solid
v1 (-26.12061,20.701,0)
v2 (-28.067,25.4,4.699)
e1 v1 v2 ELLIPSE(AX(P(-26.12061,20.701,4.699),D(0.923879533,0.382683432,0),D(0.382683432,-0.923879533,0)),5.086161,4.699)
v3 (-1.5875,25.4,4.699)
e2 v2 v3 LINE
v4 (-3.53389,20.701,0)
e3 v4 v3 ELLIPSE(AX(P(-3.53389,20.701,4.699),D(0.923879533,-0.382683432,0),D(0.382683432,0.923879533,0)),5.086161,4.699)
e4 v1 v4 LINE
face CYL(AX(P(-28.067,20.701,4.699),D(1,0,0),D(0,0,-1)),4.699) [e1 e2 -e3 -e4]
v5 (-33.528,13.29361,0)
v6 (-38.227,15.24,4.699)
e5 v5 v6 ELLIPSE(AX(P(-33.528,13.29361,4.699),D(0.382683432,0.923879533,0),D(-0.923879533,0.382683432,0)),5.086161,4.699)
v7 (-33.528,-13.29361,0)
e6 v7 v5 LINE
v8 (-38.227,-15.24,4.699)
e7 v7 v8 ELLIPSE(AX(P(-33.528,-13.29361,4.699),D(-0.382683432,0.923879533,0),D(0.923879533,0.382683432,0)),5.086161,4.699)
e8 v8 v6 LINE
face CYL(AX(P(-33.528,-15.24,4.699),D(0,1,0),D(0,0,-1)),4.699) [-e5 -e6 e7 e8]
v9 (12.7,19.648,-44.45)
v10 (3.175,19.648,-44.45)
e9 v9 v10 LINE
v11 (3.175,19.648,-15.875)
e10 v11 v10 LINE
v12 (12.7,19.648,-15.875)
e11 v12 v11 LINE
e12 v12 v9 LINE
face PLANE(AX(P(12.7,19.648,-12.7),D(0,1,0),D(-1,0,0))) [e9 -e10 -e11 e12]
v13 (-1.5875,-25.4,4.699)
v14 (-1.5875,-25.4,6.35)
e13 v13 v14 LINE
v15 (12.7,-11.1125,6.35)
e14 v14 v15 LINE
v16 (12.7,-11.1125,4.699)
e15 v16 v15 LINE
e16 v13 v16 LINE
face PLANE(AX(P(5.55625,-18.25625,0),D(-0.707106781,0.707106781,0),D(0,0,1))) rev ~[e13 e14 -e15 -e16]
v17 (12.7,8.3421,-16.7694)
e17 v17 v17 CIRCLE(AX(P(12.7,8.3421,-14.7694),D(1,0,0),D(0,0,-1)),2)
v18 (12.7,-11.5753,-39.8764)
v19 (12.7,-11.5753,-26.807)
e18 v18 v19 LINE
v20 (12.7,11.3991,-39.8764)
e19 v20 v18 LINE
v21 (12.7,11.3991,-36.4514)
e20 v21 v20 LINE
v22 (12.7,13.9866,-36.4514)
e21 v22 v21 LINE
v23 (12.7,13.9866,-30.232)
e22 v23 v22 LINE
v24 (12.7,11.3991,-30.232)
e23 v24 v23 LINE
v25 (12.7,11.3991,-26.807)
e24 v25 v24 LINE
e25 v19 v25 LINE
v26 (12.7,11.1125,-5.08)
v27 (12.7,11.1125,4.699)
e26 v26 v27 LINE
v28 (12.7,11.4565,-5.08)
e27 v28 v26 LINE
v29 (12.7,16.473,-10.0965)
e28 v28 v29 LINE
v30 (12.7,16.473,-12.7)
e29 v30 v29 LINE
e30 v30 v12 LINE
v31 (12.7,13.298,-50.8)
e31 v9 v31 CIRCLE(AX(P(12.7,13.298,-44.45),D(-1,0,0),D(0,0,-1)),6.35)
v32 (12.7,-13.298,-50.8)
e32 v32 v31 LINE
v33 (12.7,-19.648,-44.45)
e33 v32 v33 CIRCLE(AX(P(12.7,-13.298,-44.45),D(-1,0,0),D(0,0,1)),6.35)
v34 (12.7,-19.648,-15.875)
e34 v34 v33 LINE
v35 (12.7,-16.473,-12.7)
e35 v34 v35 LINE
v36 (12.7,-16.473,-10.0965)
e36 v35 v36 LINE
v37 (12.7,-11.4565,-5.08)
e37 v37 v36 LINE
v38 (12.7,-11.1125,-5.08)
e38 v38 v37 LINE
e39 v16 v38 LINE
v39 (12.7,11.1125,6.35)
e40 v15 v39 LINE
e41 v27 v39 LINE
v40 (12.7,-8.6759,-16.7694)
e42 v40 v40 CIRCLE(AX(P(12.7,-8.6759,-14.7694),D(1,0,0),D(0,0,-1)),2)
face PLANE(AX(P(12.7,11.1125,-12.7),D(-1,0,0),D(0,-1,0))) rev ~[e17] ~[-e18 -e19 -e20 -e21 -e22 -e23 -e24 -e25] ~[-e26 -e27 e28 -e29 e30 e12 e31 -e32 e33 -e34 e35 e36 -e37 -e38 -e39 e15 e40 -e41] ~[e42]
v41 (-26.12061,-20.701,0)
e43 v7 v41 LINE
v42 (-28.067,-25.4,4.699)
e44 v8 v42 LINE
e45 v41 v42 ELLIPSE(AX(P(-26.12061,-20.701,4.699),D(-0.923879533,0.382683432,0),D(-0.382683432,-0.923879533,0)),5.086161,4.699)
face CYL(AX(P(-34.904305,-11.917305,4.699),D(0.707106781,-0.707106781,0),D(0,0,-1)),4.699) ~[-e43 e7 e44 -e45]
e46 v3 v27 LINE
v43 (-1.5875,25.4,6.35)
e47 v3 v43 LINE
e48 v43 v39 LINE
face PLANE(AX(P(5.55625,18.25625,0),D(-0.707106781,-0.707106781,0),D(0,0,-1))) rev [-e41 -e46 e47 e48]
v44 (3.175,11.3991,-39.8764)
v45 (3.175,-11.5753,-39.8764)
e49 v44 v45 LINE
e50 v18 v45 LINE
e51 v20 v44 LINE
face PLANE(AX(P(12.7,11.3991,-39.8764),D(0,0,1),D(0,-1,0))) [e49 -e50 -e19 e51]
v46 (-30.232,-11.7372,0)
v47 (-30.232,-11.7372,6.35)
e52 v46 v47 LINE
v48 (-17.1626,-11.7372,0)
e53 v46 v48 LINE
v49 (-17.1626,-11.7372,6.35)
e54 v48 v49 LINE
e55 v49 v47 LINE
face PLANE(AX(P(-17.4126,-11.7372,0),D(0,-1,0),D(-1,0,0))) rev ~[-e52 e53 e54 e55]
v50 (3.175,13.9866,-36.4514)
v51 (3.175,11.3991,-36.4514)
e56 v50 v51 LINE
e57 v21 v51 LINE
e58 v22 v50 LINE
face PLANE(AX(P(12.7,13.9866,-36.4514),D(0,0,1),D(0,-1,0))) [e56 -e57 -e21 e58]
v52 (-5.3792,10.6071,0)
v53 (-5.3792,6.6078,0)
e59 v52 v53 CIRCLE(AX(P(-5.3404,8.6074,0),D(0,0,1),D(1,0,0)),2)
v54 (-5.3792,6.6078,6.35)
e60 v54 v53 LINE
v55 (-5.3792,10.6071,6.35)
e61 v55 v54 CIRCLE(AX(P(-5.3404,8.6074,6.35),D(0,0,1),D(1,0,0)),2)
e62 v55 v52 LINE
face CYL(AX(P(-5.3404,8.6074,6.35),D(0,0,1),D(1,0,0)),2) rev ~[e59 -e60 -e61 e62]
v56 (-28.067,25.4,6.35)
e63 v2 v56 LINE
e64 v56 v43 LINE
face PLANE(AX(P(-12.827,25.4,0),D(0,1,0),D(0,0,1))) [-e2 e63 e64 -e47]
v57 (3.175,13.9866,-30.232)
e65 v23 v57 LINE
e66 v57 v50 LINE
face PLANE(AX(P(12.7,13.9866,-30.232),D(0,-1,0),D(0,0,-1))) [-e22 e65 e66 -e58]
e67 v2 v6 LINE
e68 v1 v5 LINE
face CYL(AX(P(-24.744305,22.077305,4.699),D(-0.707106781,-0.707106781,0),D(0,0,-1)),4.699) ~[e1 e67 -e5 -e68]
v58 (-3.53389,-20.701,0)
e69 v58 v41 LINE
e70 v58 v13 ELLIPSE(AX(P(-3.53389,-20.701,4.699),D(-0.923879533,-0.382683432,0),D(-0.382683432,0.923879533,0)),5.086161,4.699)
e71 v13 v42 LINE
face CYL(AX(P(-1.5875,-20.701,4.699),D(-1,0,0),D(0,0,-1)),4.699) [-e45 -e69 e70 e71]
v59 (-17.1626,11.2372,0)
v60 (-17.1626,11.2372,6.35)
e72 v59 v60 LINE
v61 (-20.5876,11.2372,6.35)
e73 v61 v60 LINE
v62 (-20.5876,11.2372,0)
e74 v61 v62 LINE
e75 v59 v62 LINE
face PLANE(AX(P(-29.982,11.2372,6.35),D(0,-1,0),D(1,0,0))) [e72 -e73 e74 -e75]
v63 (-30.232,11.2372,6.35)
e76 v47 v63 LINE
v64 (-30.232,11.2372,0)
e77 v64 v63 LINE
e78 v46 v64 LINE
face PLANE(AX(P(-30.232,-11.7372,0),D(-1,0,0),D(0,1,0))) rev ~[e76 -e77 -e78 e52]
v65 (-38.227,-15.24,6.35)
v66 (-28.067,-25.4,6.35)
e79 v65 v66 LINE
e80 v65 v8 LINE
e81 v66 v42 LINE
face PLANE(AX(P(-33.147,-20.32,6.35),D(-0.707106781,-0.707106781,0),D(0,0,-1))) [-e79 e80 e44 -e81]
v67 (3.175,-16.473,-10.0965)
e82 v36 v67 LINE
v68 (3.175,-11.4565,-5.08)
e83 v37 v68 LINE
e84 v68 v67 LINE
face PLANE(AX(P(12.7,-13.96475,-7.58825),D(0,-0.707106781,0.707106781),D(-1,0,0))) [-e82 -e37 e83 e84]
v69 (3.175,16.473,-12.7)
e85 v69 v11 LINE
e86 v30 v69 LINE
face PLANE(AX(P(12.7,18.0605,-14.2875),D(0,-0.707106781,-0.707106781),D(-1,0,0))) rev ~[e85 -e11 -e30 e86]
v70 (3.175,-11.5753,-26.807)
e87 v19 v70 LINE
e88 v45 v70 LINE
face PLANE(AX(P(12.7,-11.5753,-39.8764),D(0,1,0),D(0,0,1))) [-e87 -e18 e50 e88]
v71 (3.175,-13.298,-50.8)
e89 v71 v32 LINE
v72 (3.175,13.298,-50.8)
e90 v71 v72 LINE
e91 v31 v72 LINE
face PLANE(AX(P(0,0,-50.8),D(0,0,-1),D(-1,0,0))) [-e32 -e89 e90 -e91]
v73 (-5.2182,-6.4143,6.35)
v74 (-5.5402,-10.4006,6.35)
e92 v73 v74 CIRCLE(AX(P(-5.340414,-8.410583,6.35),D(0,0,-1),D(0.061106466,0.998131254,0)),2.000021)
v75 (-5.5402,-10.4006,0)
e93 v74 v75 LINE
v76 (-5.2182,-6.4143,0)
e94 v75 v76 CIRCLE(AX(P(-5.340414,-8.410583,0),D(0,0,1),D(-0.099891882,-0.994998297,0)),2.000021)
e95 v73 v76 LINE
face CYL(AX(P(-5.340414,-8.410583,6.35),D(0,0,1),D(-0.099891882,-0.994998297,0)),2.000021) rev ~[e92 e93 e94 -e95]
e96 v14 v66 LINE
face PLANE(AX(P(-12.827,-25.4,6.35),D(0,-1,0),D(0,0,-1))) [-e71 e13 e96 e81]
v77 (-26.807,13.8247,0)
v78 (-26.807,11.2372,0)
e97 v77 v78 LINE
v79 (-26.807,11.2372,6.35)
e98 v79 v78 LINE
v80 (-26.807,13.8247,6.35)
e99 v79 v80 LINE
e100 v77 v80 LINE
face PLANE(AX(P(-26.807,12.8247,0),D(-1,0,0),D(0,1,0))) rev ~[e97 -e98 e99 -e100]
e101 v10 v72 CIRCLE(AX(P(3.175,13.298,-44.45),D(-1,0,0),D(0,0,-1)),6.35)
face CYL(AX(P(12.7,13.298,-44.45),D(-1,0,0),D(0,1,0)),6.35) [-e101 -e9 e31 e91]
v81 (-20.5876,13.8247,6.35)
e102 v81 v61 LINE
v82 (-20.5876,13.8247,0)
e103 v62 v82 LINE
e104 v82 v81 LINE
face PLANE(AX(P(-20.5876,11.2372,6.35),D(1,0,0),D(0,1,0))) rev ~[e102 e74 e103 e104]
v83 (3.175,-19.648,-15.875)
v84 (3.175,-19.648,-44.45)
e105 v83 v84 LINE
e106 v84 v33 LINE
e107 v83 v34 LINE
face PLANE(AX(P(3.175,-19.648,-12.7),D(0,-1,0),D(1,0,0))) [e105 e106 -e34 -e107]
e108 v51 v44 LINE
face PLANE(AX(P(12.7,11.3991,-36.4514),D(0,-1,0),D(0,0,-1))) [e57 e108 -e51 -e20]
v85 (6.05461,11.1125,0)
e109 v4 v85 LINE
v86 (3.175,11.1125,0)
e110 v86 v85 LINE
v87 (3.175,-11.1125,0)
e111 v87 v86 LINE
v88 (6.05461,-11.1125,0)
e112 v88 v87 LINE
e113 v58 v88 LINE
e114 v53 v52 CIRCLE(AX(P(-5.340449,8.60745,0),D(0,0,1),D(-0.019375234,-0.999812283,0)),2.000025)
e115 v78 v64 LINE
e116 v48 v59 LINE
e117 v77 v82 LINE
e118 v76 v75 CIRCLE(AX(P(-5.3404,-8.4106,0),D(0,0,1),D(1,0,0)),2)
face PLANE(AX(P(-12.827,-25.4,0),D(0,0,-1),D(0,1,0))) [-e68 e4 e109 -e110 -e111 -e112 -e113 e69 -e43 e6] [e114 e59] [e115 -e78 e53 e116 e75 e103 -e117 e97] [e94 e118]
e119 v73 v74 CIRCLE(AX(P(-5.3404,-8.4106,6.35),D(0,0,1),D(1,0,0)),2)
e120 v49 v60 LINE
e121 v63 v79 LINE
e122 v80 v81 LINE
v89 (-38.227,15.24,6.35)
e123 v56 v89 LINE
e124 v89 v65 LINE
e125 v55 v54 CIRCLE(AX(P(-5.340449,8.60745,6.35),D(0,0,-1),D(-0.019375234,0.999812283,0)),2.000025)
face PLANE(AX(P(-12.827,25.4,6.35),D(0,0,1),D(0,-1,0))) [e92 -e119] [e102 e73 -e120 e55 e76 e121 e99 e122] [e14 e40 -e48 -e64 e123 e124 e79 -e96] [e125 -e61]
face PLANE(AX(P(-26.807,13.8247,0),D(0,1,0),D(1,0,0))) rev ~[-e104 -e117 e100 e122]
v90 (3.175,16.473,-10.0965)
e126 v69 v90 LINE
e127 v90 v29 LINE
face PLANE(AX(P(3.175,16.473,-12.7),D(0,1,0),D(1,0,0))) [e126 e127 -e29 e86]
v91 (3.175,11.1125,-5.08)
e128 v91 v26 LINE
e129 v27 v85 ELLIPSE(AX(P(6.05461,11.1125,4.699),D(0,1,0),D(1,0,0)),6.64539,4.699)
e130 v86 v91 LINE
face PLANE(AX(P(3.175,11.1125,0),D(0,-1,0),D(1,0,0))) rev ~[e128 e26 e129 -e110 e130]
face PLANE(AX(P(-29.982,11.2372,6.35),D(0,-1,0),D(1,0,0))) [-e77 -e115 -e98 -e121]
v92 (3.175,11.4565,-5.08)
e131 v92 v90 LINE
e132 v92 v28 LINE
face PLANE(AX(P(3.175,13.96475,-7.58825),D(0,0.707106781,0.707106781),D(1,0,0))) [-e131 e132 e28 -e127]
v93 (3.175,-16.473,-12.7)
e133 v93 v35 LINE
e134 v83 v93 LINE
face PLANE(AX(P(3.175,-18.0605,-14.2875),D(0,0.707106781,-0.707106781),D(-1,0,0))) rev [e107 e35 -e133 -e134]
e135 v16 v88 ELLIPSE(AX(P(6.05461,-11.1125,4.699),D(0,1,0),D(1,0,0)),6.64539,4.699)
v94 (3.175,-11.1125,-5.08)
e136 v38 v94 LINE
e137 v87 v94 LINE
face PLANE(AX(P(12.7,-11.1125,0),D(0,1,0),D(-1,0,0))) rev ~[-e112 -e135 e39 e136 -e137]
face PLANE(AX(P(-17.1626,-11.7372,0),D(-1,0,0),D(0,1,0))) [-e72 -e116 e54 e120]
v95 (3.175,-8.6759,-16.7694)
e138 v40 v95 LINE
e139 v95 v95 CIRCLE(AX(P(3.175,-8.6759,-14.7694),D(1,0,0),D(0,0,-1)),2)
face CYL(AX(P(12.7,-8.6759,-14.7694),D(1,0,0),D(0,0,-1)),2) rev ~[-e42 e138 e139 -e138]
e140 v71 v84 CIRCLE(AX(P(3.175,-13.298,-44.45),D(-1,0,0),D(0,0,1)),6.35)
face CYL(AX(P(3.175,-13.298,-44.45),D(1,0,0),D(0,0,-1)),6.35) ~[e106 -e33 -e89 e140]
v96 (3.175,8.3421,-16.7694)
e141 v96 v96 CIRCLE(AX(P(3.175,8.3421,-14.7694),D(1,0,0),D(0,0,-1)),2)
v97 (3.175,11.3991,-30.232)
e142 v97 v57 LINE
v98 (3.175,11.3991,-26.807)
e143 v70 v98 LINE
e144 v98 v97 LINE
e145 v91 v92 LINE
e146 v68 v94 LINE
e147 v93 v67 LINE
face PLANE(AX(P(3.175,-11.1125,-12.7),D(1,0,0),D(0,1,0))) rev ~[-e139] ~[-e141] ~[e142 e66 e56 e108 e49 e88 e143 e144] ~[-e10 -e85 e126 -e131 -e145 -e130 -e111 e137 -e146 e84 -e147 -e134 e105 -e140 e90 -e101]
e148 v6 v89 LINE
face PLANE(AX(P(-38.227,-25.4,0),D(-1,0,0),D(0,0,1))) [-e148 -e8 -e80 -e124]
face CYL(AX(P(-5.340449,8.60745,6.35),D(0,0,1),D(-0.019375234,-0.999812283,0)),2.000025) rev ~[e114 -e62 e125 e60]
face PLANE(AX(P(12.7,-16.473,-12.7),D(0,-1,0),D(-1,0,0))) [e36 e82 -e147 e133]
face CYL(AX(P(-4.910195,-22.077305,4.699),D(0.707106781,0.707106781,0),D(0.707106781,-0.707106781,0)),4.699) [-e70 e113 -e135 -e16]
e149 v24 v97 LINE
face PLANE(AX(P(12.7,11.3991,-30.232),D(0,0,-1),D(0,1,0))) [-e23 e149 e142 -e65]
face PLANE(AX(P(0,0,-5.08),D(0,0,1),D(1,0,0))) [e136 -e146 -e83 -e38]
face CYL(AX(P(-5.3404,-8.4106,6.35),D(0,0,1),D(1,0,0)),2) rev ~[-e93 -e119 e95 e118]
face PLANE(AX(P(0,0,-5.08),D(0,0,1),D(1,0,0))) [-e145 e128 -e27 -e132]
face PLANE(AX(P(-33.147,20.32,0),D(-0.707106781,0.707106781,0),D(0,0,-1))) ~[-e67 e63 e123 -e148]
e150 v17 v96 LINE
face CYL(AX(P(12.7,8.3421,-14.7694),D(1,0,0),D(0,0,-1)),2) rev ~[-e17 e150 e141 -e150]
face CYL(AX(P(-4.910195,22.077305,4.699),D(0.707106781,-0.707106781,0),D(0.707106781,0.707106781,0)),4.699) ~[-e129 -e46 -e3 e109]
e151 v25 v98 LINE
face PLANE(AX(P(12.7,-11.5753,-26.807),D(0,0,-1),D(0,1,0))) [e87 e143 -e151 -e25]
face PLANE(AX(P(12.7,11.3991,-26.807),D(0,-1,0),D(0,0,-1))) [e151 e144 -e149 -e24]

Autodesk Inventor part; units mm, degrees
ref_plane "YZ Plane" through (0, 0, 0) normal (1, 0, 0) x (0, 1, 0)
ref_plane "XZ Plane" through (0, 0, 0) normal (0, 1, 0) x (-1, 0, 0)
ref_plane "XY Plane" through (0, 0, 0) normal (0, 0, 1) x (1, 0, 0)
sketch "Sketch1" plane through (0, 0, 0) normal (0, 0, 1) x (1, 0, 0)
  line L0 (-38.1, -25.4) -> (38.1, -25.4)
  line L1 (38.1, -25.4) -> (38.1, 25.4)
  line L2 (38.1, 25.4) -> (-38.1, 25.4)
  line L3 (-38.1, 25.4) -> (-38.1, -25.4)
  line L4 (-38.1, -25.4) -> (38.1, 25.4) construction
  line L5 (38.1, -25.4) -> (-38.1, 25.4) construction
  point P0 (0, 0)
  dimension "d0" = 76.2
  dimension "d1" = 50.8
extrude "Extrusion1" add sketch "Sketch1" along normal blind 6.35
sketch "Sketch3" plane through (38.1, -25.4, 0) normal (1, 0, 0) x (0, 0, -1)
  line L0 (0, 0) -> (0, 50.8) projected
  line L1 (0, 50.8) -> (-6.35, 50.8) projected
  line L2 (-6.35, 0) -> (-6.35, 50.8) projected
  line L3 (0, 0) -> (-6.35, 0) projected
  point P0 (0, 25.4)
extrude "Extrusion3" cut sketch "Sketch3" against normal blind 25.4
sketch "Sketch4" plane through (-38.1, -25.4, 0) normal (-1, 0, 0) x (0, 0, 1)
  line L0 (4.925, 17.15) -> (1.425, 17.15)
  line L1 (1.425, 17.15) -> (1.425, 33.65)
  line L2 (1.425, 33.65) -> (4.925, 33.65)
  line L3 (4.925, 33.65) -> (4.925, 17.15)
  line L4 (4.925, 17.15) -> (1.425, 33.65) construction
  line L5 (1.425, 17.15) -> (4.925, 33.65) construction
  point P0 (0, 25.4)
  point P1 (3.175, 25.4)
  dimension "d9" = 3.5
  dimension "d10" = 16.5
extrude "Extrusion4" add sketch "Sketch4" along normal blind 3.302
sketch "Sketch5" plane through (-38.1, -8.25, 4.925) normal (0, 0, 1) x (1, 0, 0)
  line L0 (-3.302, 0) -> (-3.302, 16.5) projected
  line L1 (0, 16.5) -> (0, 0) projected
  line L2 (0, 16.5) -> (-3.302, 16.5) projected
  line L3 (-3.302, 0) -> (-3.302, 16.5) projected
  line L4 (0, 0) -> (-3.302, 0) projected
  line L5 (-3.302, 16.5) -> (-3.175, 16.5)
  line L6 (0, 16.5) -> (-3.302, 16.5) projected
  line L7 (-3.175, 16.5) -> (-3.175, 16.5685)
  line L8 (-3.302, 16.5) -> (-3.302, 0) projected
  line L9 (-3.175, 16.5685) -> (-3.302, 16.5)
  point P0 (38.1, 8.25)
  point P1 (-3.175, 16.5)
  dimension "d13" = 0.127
sketch3d "3D Sketch1"
  line L0 (-41.402, 8.25, 4.925) -> (-41.402, 8.25, 1.425)
  line L1 (-41.402, 8.25, 1.425) -> (-41.402, -8.25, 1.425)
  line L2 (-41.402, -8.25, 1.425) -> (-41.402, -8.25, 4.925)
  line L3 (-41.402, -8.25, 4.925) -> (-41.402, 8.25, 4.925)
sweep "Sweep1" add profiles "Sketch5" path "3D Sketch1" contours L9 L7 L2
chamfer "Chamfer1" distance 14.2875 angle 45 4 edges at (-38.1, -25.4, 3.175) (-38.1, 25.4, 3.175) (12.7, -25.4, 3.175) (12.7, 25.4, 3.175)
sketch "Sketch6" plane through (-41.402, -25.4, 0) normal (-1, 0, 0) x (0, 0, 1)
  line L0 (-26.5368, -66.9991) -> (26.5368, -66.9991)
  line L1 (26.5368, -66.9991) -> (26.5368, 66.9991)
  line L2 (26.5368, 66.9991) -> (-26.5368, 66.9991)
  line L3 (-26.5368, 66.9991) -> (-26.5368, -66.9991)
  line L4 (0, 0) -> (6.35, 0) projected
  line L5 (-26.5368, -66.9991) -> (26.5368, 66.9991) construction
  line L6 (26.5368, -66.9991) -> (-26.5368, 66.9991) construction
  point P0 (0, 25.4)
extrude "Extrusion5" cut sketch "Sketch6" against normal blind 28.575
sketch "Sketch7" plane through (0, 0, 0) normal (0, 0, -1) x (-1, 0, 0)
  line L0 (-8.025, 3.175) -> (-8.025, -3.175)
  line L1 (-8.025, -3.175) -> (8.025, -3.175)
  line L2 (8.025, -3.175) -> (8.025, 3.175)
  line L3 (8.025, 3.175) -> (-8.025, 3.175)
  line L4 (-8.025, 4.675) -> (8.025, -1.675) construction
  line L5 (-8.025, -1.675) -> (8.025, 4.675) construction
  line L6 (0, 3.175) -> (0, -3.175)
  point P0 (0, 0)
  point P1 (0, 0)
  dimension "d21" = 6.35
  dimension "d22" = 16.05
extrude "Extrusion6" add sketch "Sketch7" along normal blind 19.2024
sketch "Sketch9" plane through (0, 0, 6.35) normal (0, 0, 1) x (1, 0, 0)
  line L0 (6.0307, -10.9832) -> (5.9693, 11.0167) projected
  line L1 (-6.0307, 10.9832) -> (6.0307, 10.9832)
  line L2 (6.0307, 10.9832) -> (6.0307, -10.9832)
  line L3 (6.0307, -10.9832) -> (-6.0307, -10.9832)
  line L4 (-6.0307, -10.9832) -> (-6.0307, 10.9832)
  point P0 (0, 0)
sketch "Sketch10" plane through (-12.827, -25.4, 0) normal (-1, 0, 0) x (0, 0, 1)
  line L0 (0, 0) -> (0, 50.8) projected
  line L1 (6.35, 0) -> (0, 0) projected
  line L2 (6.35, 50.8) -> (6.35, 0) projected
  line L3 (0, 50.8) -> (6.35, 50.8) projected
  point P0 (0, 25.4)
extrude "Extrusion7" add sketch "Sketch10" along normal blind 25.4
chamfer "Chamfer2" distance 10.16 angle 45 1 edges at (-38.227, 25.4, 3.175)
chamfer "Chamfer3" distance 10.16 angle 45 1 edges at (-38.227, -25.4, 3.175)
sketch "Sketch11" plane through (0, 0, 6.35) normal (0, 0, 1) x (1, 0, 0)
  line L0 (-29.728, 10.9832) -> (-17.6666, 10.9832)
  line L1 (-17.6666, -10.9832) -> (-29.728, -10.9832)
  line L2 (-29.728, -10.9832) -> (-29.728, 10.9832)
  line L3 (-17.6666, -10.9832) -> (-17.6666, 10.9832)
  line L4 (-30.998, 12.2532) -> (-16.3966, 12.2532)
  line L5 (-16.3966, 12.2532) -> (-16.3966, -12.2532)
  line L6 (-16.3966, -12.2532) -> (-30.998, -12.2532)
  line L7 (-30.998, -12.2532) -> (-30.998, 12.2532)
  line L8 (-17.6666, 10.9832) -> (-18.9366, 10.9832)
  line L9 (-29.728, 10.9832) -> (-28.458, 10.9832)
  line L10 (-18.9366, 10.9832) -> (-28.458, 10.9832)
  line L11 (-28.458, 10.9832) -> (-28.458, 15.1856)
  line L12 (-28.458, 15.1856) -> (-18.9366, 15.1856)
  line L13 (-18.9366, 15.1856) -> (-18.9366, 10.9832)
  point P0 (0, 0)
  dimension "d54" = 1.27
  dimension "d55" = 1.27
  dimension "d56" = 1.27
extrude "Extrusion8" cut sketch "Sketch11" against normal up to surface (6.35 mm away) contours L0 L3 L1 L2
sketch "Sketch12" plane through (0, 0, 6.35) normal (0, 0, 1) x (1, 0, 0)
  arc A0 (-5.2182, -6.4143) -> (-5.5402, -10.4006) centre (-5.418, -8.4043) ccw projected
  arc A1 (-5.5402, -10.4006) -> (-5.2182, -6.4143) centre (-5.3404, -8.4106) ccw projected
  arc A2 (-5.3792, 10.6071) -> (-5.3792, 6.6078) centre (-5.418, 8.6074) ccw projected
  arc A3 (-5.3792, 6.6078) -> (-5.3792, 10.6071) centre (-5.3404, 8.6074) ccw projected
  line L0 (-14.078, 16.1258) -> (3.242, 16.1258) projected
  line L1 (-14.078, 16.1258) -> (-14.078, -15.929) projected
  line L2 (-14.078, -15.929) -> (3.242, -15.929) projected
  line L3 (3.242, 16.1258) -> (3.242, -15.929) projected
  circle A4 centre (-5.3404, -8.4106) radius 2
  circle A5 centre (-5.3404, 8.6074) radius 2
  point P0 (0, 0)
  point P1 (-5.3792, 6.6078)
  point P2 (-5.2182, -6.4143)
  point P3 (-5.5402, -10.4006)
  dimension "d38" = 4
  dimension "d39" = 4
extrude "Extrusion9" cut sketch "Sketch12" against normal up to surface (6.35 mm away) contours A1 A4 | A3 A5
sketch "Sketch13" plane through (-8.025, 3.175, 0) normal (0, 1, 0) x (1, 0, 0)
  line L0 (16.05, 19.2024) -> (0, 19.2024) projected
  circle A0 centre (8.025, 4.3815) radius 2.25
  circle A1 centre (8.025, 13.1445) radius 2.25
  line L1 (16.05, 0) -> (0, 0) projected
  line L2 (16.05, 0) -> (16.05, 19.2024) projected
  line L3 (0, 19.2024) -> (16.05, 19.2024) projected
  line L4 (0, 0) -> (0, 19.2024) projected
  line L5 (8.025, 0) -> (12.4065, 0)
  line L6 (6.4375, 0) -> (20.725, 0) projected
  line L7 (8.025, 0) -> (8.025, 4.3815)
  line L8 (8.025, 0) -> (12.4065, 0) construction
  line L9 (8.025, 0) -> (21.1695, 0)
  line L10 (8.025, 0) -> (8.025, 13.1445)
  line L11 (16.05, 0) -> (0, 0) projected
  line L12 (8.025, 0) -> (21.1695, 0) construction
  dimension "d44" = 4.5
  dimension "d45" = 4.5
  dimension "d48" = 4.3815
  dimension "d49" = 4.3815
  dimension "d50" = 90
  dimension "d51" = 13.1445
  dimension "d52" = 13.1445
  dimension "d53" = 90
extrude "Extrusion10" cut sketch "Sketch13" against normal up to surface (6.35 mm away) contours A1 | A0 L10 L7 | L7 L10 A0
sketch "Sketch14" plane through (0, 0, -19.2024) normal (0, 0, -1) x (-1, 0, 0)
  line L0 (8.025, 3.175) -> (8.025, -3.175) projected
  line L1 (-8.025, -3.175) -> (-8.025, 3.175) projected
  line L2 (8.025, 3.175) -> (-8.025, 3.175)
  line L3 (-8.025, 3.175) -> (-8.025, -3.175)
  line L4 (-8.025, -3.175) -> (8.025, -3.175)
  line L5 (8.025, -3.175) -> (8.025, 3.175)
  point P0 (0, 0)
sketch "Sketch16" plane through (0, 0, 6.35) normal (0, 0, 1) x (1, 0, 0)
  line L0 (-29.728, -10.9832) -> (-29.728, 10.9832) projected
  line L1 (-17.6666, -10.9832) -> (-29.728, -10.9832) projected
  line L2 (-17.6666, 10.9832) -> (-17.6666, -10.9832) projected
  line L3 (-29.728, 10.9832) -> (-17.6666, 10.9832) projected
  line L4 (-29.982, -11.2372) -> (-29.982, 11.2372)
  line L5 (-29.982, 11.2372) -> (-17.4126, 11.2372)
  line L6 (-17.4126, 11.2372) -> (-17.4126, -11.2372)
  line L7 (-17.4126, -11.2372) -> (-29.982, -11.2372)
  point P0 (0, 0)
  dimension "d62" = 0.254
extrude "Extrusion12" cut sketch "Sketch16" against normal up to surface (6.35 mm away)
sketch "Sketch17" plane through (0, 0, 6.35) normal (0, 0, 1) x (1, 0, 0)
  line L0 (-17.4126, 11.2372) -> (-29.982, 11.2372) projected
  line L1 (-29.982, 11.2372) -> (-26.807, 11.2372)
  line L2 (-17.4126, 11.2372) -> (-20.5876, 11.2372)
  line L3 (-26.807, 11.2372) -> (-20.5876, 11.2372)
  line L4 (-20.5876, 11.2372) -> (-20.5876, 12.8247)
  line L5 (-20.5876, 12.8247) -> (-26.807, 12.8247)
  line L6 (-26.807, 12.8247) -> (-26.807, 11.2372)
  point P0 (0, 0)
  dimension "d65" = 3.175
  dimension "d66" = 3.175
  dimension "d67" = 1.5875
extrude "Extrusion13" cut sketch "Sketch17" against normal up to surface (6.35 mm away)
sketch "Sketch18" plane through (0, 0, -19.2024) normal (0, 0, -1) x (-1, 0, 0)
  line L0 (8.025, -3.175) -> (8.025, 3.175) projected
  line L1 (8.025, 3.175) -> (-8.025, 3.175) projected
  line L2 (-8.025, 3.175) -> (-8.025, -3.175) projected
  line L3 (-8.025, -3.175) -> (8.025, -3.175) projected
  line L4 (8.025, -3.175) -> (8.025, 3.175) projected
  line L5 (8.025, 3.175) -> (-8.025, 3.175) projected
  line L6 (-8.025, 3.175) -> (-8.025, -3.175) projected
  line L7 (-8.025, -3.175) -> (8.025, -3.175) projected
  point P0 (0, 0)
extrude "Extrusion14" cut sketch "Sketch18" against normal up to surface (19.2024 mm away)
sketch "Sketch19" plane through (0, 0, 0) normal (0, 0, -1) x (-1, 0, 0)
  line L0 (38.227, -15.24) -> (28.067, -25.4) projected
  line L1 (38.227, 15.24) -> (38.227, -15.24) projected
  line L2 (28.067, 25.4) -> (38.227, 15.24) projected
  line L3 (1.5875, 25.4) -> (28.067, 25.4) projected
  line L4 (-12.7, 11.1125) -> (1.5875, 25.4) projected
  line L5 (-12.7, 11.1125) -> (-12.7, -11.1125) projected
  line L6 (1.5875, -25.4) -> (-12.7, -11.1125) projected
  line L7 (28.067, -25.4) -> (1.5875, -25.4) projected
  circle A0 centre (5.3404, -8.4106) radius 2 projected
  circle A1 centre (5.3404, 8.6074) radius 2 projected
  line L8 (20.5876, 11.2372) -> (20.5876, 12.8247) projected
  line L9 (20.5876, 12.8247) -> (26.807, 12.8247) projected
  line L10 (26.807, 12.8247) -> (26.807, 11.2372) projected
  line L11 (26.807, 11.2372) -> (29.982, 11.2372) projected
  line L12 (29.982, 11.2372) -> (29.982, -11.2372) projected
  line L13 (29.982, -11.2372) -> (17.4126, -11.2372) projected
  line L14 (17.4126, -11.2372) -> (17.4126, 11.2372) projected
  line L15 (17.4126, 11.2372) -> (20.5876, 11.2372) projected
  line L16 (-12.7, -11.1125) -> (-3.175, -11.1125)
  line L17 (-3.175, -11.1125) -> (-3.175, 11.1125)
  line L18 (-3.175, 11.1125) -> (-12.7, 11.1125)
  line L19 (-12.7, 11.1125) -> (-12.7, -11.1125)
  point P0 (0, 0)
  dimension "d72" = 9.525
extrude "Extrusion15" add sketch "Sketch19" along normal blind 12.7 contours L5 L18 L17 L16
sketch "Sketch20" plane through (0, 0, -12.7) normal (0, 0, -1) x (-1, 0, 0)
  line L0 (-12.7, -11.1125) -> (-3.175, -11.1125) projected
  line L1 (-3.175, -11.1125) -> (-3.175, 11.1125) projected
  line L2 (-3.175, 11.1125) -> (-12.7, 11.1125) projected
  line L3 (-12.7, 11.1125) -> (-12.7, -11.1125) projected
  line L4 (-3.175, -19.648) -> (-12.7, -19.648)
  line L5 (-12.7, -19.648) -> (-12.7, 19.648)
  line L6 (-12.7, 19.648) -> (-3.175, 19.648)
  line L7 (-3.175, 19.648) -> (-3.175, -19.648)
  line L8 (-3.175, -19.648) -> (-12.7, 19.648) construction
  line L9 (-12.7, -19.648) -> (-3.175, 19.648) construction
  point P0 (0, 0)
  point P1 (-7.9375, 0)
extrude "Extrusion16" add sketch "Sketch20" along normal blind 38.1
sketch "Sketch21" plane through (0, 0, 0) normal (0, 0, -1) x (-1, 0, 0)
  line L0 (29.982, -11.2372) -> (17.4126, -11.2372) projected
  line L1 (29.982, -11.2372) -> (17.4126, -11.2372)
  line L2 (17.4126, -11.2372) -> (17.4126, -11.7372)
  line L3 (17.4126, -11.7372) -> (29.982, -11.7372)
  line L4 (29.982, -11.7372) -> (29.982, -11.2372)
  line L5 (29.982, -11.7372) -> (30.232, -11.7372)
  line L6 (30.232, -11.7372) -> (30.232, 11.2372)
  line L7 (30.232, 11.2372) -> (29.982, 11.2372)
  line L8 (29.982, 11.2372) -> (29.982, -11.7372)
  line L9 (17.4126, -11.7372) -> (17.1626, -11.7372)
  line L10 (17.1626, -11.7372) -> (17.1626, 11.2372)
  line L11 (17.1626, 11.2372) -> (17.4126, 11.2372)
  line L12 (17.4126, 11.2372) -> (17.4126, -11.7372)
  point P0 (0, 0)
  dimension "d77" = 0.5
  dimension "d78" = 0.25
  dimension "d79" = 0.25
extrude "Extrusion17" cut sketch "Sketch21" against normal up to surface (6.35 mm away)
chamfer "Chamfer4" distance 3.175 angle 45 2 edges at (7.9375, 19.648, -12.7) (7.9375, -19.648, -12.7)
fillet "Fillet2" radius 6.35 2 edges at (7.9375, -19.648, -50.8) (7.9375, 19.648, -50.8)
sketch "Sketch22" plane through (0, 0, 0) normal (0, 0, -1) x (-1, 0, 0)
  line L0 (-12.7, 11.1125) -> (-3.175, 11.1125) projected
  line L1 (-3.175, 11.1125) -> (-3.175, -11.1125) projected
  line L2 (-3.175, -11.1125) -> (-12.7, -11.1125) projected
  line L3 (1.5875, -25.4) -> (-12.7, -11.1125) projected
  line L4 (28.067, -25.4) -> (1.5875, -25.4) projected
  line L5 (38.227, -15.24) -> (28.067, -25.4) projected
  line L6 (38.227, 15.24) -> (38.227, -15.24) projected
  line L7 (28.067, 25.4) -> (38.227, 15.24) projected
  line L8 (1.5875, 25.4) -> (28.067, 25.4) projected
  line L9 (-12.7, 11.1125) -> (1.5875, 25.4) projected
  circle A0 centre (5.3404, -8.4106) radius 2 projected
  circle A1 centre (5.3404, 8.6074) radius 2 projected
  line L10 (26.807, 11.2372) -> (30.232, 11.2372) projected
  line L11 (30.232, 11.2372) -> (30.232, -11.7372) projected
  line L12 (30.232, -11.7372) -> (17.1626, -11.7372) projected
  line L13 (17.1626, -11.7372) -> (17.1626, 11.2372) projected
  line L14 (17.1626, 11.2372) -> (20.5876, 11.2372) projected
  line L15 (20.5876, 11.2372) -> (20.5876, 12.8247) projected
  line L16 (20.5876, 12.8247) -> (26.807, 12.8247) projected
  line L17 (26.807, 12.8247) -> (26.807, 11.2372) projected
  line L18 (26.807, 11.2372) -> (30.232, 11.2372)
  line L19 (30.232, 11.2372) -> (26.807, 11.2372) projected
  line L20 (30.232, -11.7372) -> (30.232, 11.2372) projected
  line L21 (30.232, 11.2372) -> (30.232, -11.7372)
  line L22 (30.232, -11.7372) -> (17.1626, -11.7372) projected
  line L23 (30.232, -11.7372) -> (17.1626, -11.7372)
  line L24 (17.1626, -11.7372) -> (17.1626, 11.2372)
  line L25 (20.5876, 11.2372) -> (17.1626, 11.2372)
  line L26 (20.5876, 11.2372) -> (20.5876, 12.8247) projected
  line L27 (20.5876, 11.2372) -> (20.5876, 12.8247)
  line L28 (20.5876, 12.8247) -> (26.807, 12.8247)
  line L29 (26.807, 11.2372) -> (26.807, 12.8247) projected
  line L30 (26.807, 11.2372) -> (26.807, 12.8247)
  point P0 (0, 0)
sketch "Sketch23" plane through (12.7, -25.4, 0) normal (1, 0, 0) x (0, 0, -1)
  line L0 (36.6513, 37.1926) -> (40.3263, 37.1926)
  line L1 (40.3263, 37.1926) -> (40.3263, 13.7182)
  line L2 (40.3263, 13.7182) -> (26.7569, 13.7182)
  line L3 (26.7569, 13.7182) -> (26.7569, 37.1926)
  line L4 (30.4319, 37.1926) -> (26.7569, 37.1926)
  line L5 (30.4319, 37.1926) -> (30.4319, 38.7801)
  line L6 (30.4319, 38.7801) -> (36.6513, 38.7801)
  line L7 (36.6513, 37.1926) -> (36.6513, 38.7801)
  point P0 (0, 25.4)
sketch "Sketch24" plane through (12.7, -25.4, 0) normal (1, 0, 0) x (0, 0, -1)
  arc A0 (50.8, 38.698) -> (44.45, 45.048) centre (44.45, 38.698) ccw projected
  line L0 (15.875, 45.048) -> (44.45, 45.048) projected
  line L1 (12.7, 41.873) -> (15.875, 45.048) projected
  line L2 (12.7, 41.873) -> (12.7, 36.5125) projected
  line L3 (0, 36.5125) -> (12.7, 36.5125) projected
  line L4 (-6.35, 36.5125) -> (0, 36.5125) projected
  line L5 (-6.35, 14.2875) -> (-6.35, 36.5125) projected
  line L6 (0, 14.2875) -> (-6.35, 14.2875) projected
  line L7 (0, 14.2875) -> (12.7, 14.2875) projected
  line L8 (12.7, 14.2875) -> (12.7, 8.927) projected
  line L9 (15.875, 5.752) -> (12.7, 8.927) projected
  line L10 (15.875, 5.752) -> (44.45, 5.752) projected
  arc A1 (44.45, 5.752) -> (50.8, 12.102) centre (44.45, 12.102) ccw projected
  line L11 (50.8, 38.698) -> (50.8, 12.102) projected
  line L12 (63.6753, 38.7801) -> (57.4559, 38.7801)
  line L13 (57.4559, 38.7801) -> (57.4559, 39.7801)
  line L14 (57.4559, 39.7801) -> (63.6753, 39.7801)
  line L15 (63.6753, 39.7801) -> (63.6753, 38.7801)
  point P0 (0, 25.4)
  dimension "d88" = 1
extrude "Extrusion19" cut sketch "Sketch24" against normal up to surface (9.525 mm away) contours L12 L13 L14 L15
sketch "Sketch25" plane through (0, 0, 0) normal (0, 0, -1) x (-1, 0, 0)
  line L0 (-12.7, 11.1125) -> (-3.175, 11.1125) projected
  line L1 (-3.175, 11.1125) -> (-3.175, -11.1125) projected
  line L2 (-3.175, -11.1125) -> (-12.7, -11.1125) projected
  line L3 (1.5875, -25.4) -> (-12.7, -11.1125) projected
  line L4 (28.067, -25.4) -> (1.5875, -25.4) projected
  line L5 (38.227, -15.24) -> (28.067, -25.4) projected
  line L6 (38.227, 15.24) -> (38.227, -15.24) projected
  line L7 (28.067, 25.4) -> (38.227, 15.24) projected
  line L8 (1.5875, 25.4) -> (28.067, 25.4) projected
  line L9 (-12.7, 11.1125) -> (1.5875, 25.4) projected
  circle A0 centre (5.3404, -8.4106) radius 2 projected
  circle A1 centre (5.3404, 8.6074) radius 2 projected
  line L10 (26.807, 11.2372) -> (30.232, 11.2372) projected
  line L11 (30.232, 11.2372) -> (30.232, -11.7372) projected
  line L12 (30.232, -11.7372) -> (17.1626, -11.7372) projected
  line L13 (17.1626, -11.7372) -> (17.1626, 11.2372) projected
  line L14 (17.1626, 11.2372) -> (20.5876, 11.2372) projected
  line L15 (20.5876, 11.2372) -> (20.5876, 12.8247) projected
  line L16 (20.5876, 12.8247) -> (26.807, 12.8247) projected
  line L17 (26.807, 12.8247) -> (26.807, 11.2372) projected
  line L18 (20.5876, 12.8247) -> (26.807, 12.8247)
  line L19 (26.807, 12.8247) -> (26.807, 13.8247)
  line L20 (26.807, 13.8247) -> (20.5876, 13.8247)
  line L21 (20.5876, 13.8247) -> (20.5876, 12.8247)
  point P0 (0, 0)
  dimension "d91" = 1
extrude "Extrusion20" cut sketch "Sketch25" against normal up to surface (6.35 mm away) contours L16 L21 L20 L19
fillet "Fillet4" radius 4.699 7 edges at (-14.8273, -25.4, 0) (-33.147, -20.32, 0) (-38.227, 0, 0) (-33.147, 20.32, 0) (-14.8272, 25.4, 0) (5.5563, 18.2563, 0) (5.5563, -18.2563, 0)
sketch "Sketch26" plane through (0, 0, 0) normal (0, 0, -1) x (-1, 0, 0)
  line L0 (20.5876, 11.2372) -> (20.5876, 13.8247) projected
  line L1 (20.5876, 13.8247) -> (26.807, 13.8247) projected
  line L2 (26.807, 13.8247) -> (26.807, 11.2372) projected
  line L3 (26.807, 11.2372) -> (30.232, 11.2372) projected
  line L4 (30.232, 11.2372) -> (30.232, -11.7372) projected
  line L5 (30.232, -11.7372) -> (17.1626, -11.7372) projected
  line L6 (17.1626, -11.7372) -> (17.1626, 11.2372) projected
  line L7 (17.1626, 11.2372) -> (20.5876, 11.2372) projected
  circle A0 centre (5.3404, 8.6074) radius 2 projected
  circle A1 centre (5.3404, -8.4106) radius 2 projected
  line L8 (3.5339, -20.701) -> (-6.0546, -11.1125) projected
  line L9 (26.1206, -20.701) -> (3.5339, -20.701) projected
  line L10 (33.528, -13.2936) -> (26.1206, -20.701) projected
  line L11 (33.528, 13.2936) -> (33.528, -13.2936) projected
  line L12 (26.1206, 20.701) -> (33.528, 13.2936) projected
  line L13 (3.5339, 20.701) -> (26.1206, 20.701) projected
  line L14 (-6.0546, 11.1125) -> (3.5339, 20.701) projected
  line L15 (-3.175, 11.1125) -> (-3.175, -11.1125) projected
  line L16 (26.807, 13.8247) -> (20.5876, 13.8247) projected
  line L17 (20.5876, 13.8247) -> (26.807, 13.8247)
  line L18 (26.807, 13.8247) -> (26.807, 11.2372)
  line L19 (26.807, 11.2372) -> (30.232, 11.2372)
  line L20 (30.232, 11.2372) -> (30.232, -11.7372) projected
  line L21 (30.232, 11.2372) -> (30.232, -11.7372)
  line L22 (17.1626, -11.7372) -> (30.232, -11.7372) projected
  line L23 (30.232, -11.7372) -> (17.1626, -11.7372)
  line L24 (17.1626, -11.7372) -> (17.1626, 11.2372)
  line L25 (20.5876, 11.2372) -> (17.1626, 11.2372) projected
  line L26 (17.1626, 11.2372) -> (20.5876, 11.2372)
  line L27 (20.5876, 11.2372) -> (20.5876, 13.8247)
  line L28 (-6.0546, 11.1125) -> (-3.175, 11.1125) projected
  line L29 (-3.175, -11.1125) -> (-6.0546, -11.1125) projected
  point P0 (0, 0)
sketch "Sketch27" plane through (12.7, -25.4, 0) normal (1, 0, 0) x (0, 0, -1)
  line L0 (30.232, 39.3866) -> (36.4514, 39.3866)
  line L1 (36.4514, 39.3866) -> (36.4514, 36.7991)
  line L2 (36.4514, 36.7991) -> (39.8764, 36.7991)
  line L3 (39.8764, 36.7991) -> (39.8764, 13.8247)
  line L4 (39.8764, 13.8247) -> (26.807, 13.8247)
  line L5 (26.807, 13.8247) -> (26.807, 36.7991)
  line L6 (26.807, 36.7991) -> (30.232, 36.7991)
  line L7 (30.232, 36.7991) -> (30.232, 39.3866)
  point P0 (0, 25.4)
extrude "Extrusion21" cut sketch "Sketch27" against normal up to surface (9.525 mm away)
sketch "Sketch29" plane through (12.7, -25.4, 0) normal (1, 0, 0) x (0, 0, -1)
  circle A0 centre (14.7694, 33.7421) radius 2
  circle A1 centre (14.7694, 16.7241) radius 2
  point P0 (0, 25.4)
extrude "Extrusion23" cut sketch "Sketch29" against normal up to surface (9.525 mm away)
sketch "Sketch30" plane through (0, 0, -12.7) normal (0, 0, 1) x (1, 0, 0)
  line L0 (3.175, 16.473) -> (12.7, 16.473) projected
  line L1 (3.175, 11.1125) -> (3.175, 16.473) projected
  line L2 (3.175, 11.1125) -> (12.7, 11.1125) projected
  line L3 (12.7, 16.473) -> (12.7, 11.1125) projected
  line L4 (12.7, -16.473) -> (3.175, -16.473) projected
  line L5 (12.7, -11.1125) -> (12.7, -16.473) projected
  line L6 (12.7, -11.1125) -> (3.175, -11.1125) projected
  line L7 (3.175, -16.473) -> (3.175, -11.1125) projected
  point P0 (0, 0)
extrude "Extrusion24" add sketch "Sketch30" along normal blind 7.62
chamfer "Chamfer5" distance 5.0165 angle 45 1 edges at (7.9375, -16.473, -5.08)
chamfer "Chamfer6" distance 5.0165 angle 45 1 edges at (7.9375, 16.473, -5.08)
properties part number "Servo Holder Module"
